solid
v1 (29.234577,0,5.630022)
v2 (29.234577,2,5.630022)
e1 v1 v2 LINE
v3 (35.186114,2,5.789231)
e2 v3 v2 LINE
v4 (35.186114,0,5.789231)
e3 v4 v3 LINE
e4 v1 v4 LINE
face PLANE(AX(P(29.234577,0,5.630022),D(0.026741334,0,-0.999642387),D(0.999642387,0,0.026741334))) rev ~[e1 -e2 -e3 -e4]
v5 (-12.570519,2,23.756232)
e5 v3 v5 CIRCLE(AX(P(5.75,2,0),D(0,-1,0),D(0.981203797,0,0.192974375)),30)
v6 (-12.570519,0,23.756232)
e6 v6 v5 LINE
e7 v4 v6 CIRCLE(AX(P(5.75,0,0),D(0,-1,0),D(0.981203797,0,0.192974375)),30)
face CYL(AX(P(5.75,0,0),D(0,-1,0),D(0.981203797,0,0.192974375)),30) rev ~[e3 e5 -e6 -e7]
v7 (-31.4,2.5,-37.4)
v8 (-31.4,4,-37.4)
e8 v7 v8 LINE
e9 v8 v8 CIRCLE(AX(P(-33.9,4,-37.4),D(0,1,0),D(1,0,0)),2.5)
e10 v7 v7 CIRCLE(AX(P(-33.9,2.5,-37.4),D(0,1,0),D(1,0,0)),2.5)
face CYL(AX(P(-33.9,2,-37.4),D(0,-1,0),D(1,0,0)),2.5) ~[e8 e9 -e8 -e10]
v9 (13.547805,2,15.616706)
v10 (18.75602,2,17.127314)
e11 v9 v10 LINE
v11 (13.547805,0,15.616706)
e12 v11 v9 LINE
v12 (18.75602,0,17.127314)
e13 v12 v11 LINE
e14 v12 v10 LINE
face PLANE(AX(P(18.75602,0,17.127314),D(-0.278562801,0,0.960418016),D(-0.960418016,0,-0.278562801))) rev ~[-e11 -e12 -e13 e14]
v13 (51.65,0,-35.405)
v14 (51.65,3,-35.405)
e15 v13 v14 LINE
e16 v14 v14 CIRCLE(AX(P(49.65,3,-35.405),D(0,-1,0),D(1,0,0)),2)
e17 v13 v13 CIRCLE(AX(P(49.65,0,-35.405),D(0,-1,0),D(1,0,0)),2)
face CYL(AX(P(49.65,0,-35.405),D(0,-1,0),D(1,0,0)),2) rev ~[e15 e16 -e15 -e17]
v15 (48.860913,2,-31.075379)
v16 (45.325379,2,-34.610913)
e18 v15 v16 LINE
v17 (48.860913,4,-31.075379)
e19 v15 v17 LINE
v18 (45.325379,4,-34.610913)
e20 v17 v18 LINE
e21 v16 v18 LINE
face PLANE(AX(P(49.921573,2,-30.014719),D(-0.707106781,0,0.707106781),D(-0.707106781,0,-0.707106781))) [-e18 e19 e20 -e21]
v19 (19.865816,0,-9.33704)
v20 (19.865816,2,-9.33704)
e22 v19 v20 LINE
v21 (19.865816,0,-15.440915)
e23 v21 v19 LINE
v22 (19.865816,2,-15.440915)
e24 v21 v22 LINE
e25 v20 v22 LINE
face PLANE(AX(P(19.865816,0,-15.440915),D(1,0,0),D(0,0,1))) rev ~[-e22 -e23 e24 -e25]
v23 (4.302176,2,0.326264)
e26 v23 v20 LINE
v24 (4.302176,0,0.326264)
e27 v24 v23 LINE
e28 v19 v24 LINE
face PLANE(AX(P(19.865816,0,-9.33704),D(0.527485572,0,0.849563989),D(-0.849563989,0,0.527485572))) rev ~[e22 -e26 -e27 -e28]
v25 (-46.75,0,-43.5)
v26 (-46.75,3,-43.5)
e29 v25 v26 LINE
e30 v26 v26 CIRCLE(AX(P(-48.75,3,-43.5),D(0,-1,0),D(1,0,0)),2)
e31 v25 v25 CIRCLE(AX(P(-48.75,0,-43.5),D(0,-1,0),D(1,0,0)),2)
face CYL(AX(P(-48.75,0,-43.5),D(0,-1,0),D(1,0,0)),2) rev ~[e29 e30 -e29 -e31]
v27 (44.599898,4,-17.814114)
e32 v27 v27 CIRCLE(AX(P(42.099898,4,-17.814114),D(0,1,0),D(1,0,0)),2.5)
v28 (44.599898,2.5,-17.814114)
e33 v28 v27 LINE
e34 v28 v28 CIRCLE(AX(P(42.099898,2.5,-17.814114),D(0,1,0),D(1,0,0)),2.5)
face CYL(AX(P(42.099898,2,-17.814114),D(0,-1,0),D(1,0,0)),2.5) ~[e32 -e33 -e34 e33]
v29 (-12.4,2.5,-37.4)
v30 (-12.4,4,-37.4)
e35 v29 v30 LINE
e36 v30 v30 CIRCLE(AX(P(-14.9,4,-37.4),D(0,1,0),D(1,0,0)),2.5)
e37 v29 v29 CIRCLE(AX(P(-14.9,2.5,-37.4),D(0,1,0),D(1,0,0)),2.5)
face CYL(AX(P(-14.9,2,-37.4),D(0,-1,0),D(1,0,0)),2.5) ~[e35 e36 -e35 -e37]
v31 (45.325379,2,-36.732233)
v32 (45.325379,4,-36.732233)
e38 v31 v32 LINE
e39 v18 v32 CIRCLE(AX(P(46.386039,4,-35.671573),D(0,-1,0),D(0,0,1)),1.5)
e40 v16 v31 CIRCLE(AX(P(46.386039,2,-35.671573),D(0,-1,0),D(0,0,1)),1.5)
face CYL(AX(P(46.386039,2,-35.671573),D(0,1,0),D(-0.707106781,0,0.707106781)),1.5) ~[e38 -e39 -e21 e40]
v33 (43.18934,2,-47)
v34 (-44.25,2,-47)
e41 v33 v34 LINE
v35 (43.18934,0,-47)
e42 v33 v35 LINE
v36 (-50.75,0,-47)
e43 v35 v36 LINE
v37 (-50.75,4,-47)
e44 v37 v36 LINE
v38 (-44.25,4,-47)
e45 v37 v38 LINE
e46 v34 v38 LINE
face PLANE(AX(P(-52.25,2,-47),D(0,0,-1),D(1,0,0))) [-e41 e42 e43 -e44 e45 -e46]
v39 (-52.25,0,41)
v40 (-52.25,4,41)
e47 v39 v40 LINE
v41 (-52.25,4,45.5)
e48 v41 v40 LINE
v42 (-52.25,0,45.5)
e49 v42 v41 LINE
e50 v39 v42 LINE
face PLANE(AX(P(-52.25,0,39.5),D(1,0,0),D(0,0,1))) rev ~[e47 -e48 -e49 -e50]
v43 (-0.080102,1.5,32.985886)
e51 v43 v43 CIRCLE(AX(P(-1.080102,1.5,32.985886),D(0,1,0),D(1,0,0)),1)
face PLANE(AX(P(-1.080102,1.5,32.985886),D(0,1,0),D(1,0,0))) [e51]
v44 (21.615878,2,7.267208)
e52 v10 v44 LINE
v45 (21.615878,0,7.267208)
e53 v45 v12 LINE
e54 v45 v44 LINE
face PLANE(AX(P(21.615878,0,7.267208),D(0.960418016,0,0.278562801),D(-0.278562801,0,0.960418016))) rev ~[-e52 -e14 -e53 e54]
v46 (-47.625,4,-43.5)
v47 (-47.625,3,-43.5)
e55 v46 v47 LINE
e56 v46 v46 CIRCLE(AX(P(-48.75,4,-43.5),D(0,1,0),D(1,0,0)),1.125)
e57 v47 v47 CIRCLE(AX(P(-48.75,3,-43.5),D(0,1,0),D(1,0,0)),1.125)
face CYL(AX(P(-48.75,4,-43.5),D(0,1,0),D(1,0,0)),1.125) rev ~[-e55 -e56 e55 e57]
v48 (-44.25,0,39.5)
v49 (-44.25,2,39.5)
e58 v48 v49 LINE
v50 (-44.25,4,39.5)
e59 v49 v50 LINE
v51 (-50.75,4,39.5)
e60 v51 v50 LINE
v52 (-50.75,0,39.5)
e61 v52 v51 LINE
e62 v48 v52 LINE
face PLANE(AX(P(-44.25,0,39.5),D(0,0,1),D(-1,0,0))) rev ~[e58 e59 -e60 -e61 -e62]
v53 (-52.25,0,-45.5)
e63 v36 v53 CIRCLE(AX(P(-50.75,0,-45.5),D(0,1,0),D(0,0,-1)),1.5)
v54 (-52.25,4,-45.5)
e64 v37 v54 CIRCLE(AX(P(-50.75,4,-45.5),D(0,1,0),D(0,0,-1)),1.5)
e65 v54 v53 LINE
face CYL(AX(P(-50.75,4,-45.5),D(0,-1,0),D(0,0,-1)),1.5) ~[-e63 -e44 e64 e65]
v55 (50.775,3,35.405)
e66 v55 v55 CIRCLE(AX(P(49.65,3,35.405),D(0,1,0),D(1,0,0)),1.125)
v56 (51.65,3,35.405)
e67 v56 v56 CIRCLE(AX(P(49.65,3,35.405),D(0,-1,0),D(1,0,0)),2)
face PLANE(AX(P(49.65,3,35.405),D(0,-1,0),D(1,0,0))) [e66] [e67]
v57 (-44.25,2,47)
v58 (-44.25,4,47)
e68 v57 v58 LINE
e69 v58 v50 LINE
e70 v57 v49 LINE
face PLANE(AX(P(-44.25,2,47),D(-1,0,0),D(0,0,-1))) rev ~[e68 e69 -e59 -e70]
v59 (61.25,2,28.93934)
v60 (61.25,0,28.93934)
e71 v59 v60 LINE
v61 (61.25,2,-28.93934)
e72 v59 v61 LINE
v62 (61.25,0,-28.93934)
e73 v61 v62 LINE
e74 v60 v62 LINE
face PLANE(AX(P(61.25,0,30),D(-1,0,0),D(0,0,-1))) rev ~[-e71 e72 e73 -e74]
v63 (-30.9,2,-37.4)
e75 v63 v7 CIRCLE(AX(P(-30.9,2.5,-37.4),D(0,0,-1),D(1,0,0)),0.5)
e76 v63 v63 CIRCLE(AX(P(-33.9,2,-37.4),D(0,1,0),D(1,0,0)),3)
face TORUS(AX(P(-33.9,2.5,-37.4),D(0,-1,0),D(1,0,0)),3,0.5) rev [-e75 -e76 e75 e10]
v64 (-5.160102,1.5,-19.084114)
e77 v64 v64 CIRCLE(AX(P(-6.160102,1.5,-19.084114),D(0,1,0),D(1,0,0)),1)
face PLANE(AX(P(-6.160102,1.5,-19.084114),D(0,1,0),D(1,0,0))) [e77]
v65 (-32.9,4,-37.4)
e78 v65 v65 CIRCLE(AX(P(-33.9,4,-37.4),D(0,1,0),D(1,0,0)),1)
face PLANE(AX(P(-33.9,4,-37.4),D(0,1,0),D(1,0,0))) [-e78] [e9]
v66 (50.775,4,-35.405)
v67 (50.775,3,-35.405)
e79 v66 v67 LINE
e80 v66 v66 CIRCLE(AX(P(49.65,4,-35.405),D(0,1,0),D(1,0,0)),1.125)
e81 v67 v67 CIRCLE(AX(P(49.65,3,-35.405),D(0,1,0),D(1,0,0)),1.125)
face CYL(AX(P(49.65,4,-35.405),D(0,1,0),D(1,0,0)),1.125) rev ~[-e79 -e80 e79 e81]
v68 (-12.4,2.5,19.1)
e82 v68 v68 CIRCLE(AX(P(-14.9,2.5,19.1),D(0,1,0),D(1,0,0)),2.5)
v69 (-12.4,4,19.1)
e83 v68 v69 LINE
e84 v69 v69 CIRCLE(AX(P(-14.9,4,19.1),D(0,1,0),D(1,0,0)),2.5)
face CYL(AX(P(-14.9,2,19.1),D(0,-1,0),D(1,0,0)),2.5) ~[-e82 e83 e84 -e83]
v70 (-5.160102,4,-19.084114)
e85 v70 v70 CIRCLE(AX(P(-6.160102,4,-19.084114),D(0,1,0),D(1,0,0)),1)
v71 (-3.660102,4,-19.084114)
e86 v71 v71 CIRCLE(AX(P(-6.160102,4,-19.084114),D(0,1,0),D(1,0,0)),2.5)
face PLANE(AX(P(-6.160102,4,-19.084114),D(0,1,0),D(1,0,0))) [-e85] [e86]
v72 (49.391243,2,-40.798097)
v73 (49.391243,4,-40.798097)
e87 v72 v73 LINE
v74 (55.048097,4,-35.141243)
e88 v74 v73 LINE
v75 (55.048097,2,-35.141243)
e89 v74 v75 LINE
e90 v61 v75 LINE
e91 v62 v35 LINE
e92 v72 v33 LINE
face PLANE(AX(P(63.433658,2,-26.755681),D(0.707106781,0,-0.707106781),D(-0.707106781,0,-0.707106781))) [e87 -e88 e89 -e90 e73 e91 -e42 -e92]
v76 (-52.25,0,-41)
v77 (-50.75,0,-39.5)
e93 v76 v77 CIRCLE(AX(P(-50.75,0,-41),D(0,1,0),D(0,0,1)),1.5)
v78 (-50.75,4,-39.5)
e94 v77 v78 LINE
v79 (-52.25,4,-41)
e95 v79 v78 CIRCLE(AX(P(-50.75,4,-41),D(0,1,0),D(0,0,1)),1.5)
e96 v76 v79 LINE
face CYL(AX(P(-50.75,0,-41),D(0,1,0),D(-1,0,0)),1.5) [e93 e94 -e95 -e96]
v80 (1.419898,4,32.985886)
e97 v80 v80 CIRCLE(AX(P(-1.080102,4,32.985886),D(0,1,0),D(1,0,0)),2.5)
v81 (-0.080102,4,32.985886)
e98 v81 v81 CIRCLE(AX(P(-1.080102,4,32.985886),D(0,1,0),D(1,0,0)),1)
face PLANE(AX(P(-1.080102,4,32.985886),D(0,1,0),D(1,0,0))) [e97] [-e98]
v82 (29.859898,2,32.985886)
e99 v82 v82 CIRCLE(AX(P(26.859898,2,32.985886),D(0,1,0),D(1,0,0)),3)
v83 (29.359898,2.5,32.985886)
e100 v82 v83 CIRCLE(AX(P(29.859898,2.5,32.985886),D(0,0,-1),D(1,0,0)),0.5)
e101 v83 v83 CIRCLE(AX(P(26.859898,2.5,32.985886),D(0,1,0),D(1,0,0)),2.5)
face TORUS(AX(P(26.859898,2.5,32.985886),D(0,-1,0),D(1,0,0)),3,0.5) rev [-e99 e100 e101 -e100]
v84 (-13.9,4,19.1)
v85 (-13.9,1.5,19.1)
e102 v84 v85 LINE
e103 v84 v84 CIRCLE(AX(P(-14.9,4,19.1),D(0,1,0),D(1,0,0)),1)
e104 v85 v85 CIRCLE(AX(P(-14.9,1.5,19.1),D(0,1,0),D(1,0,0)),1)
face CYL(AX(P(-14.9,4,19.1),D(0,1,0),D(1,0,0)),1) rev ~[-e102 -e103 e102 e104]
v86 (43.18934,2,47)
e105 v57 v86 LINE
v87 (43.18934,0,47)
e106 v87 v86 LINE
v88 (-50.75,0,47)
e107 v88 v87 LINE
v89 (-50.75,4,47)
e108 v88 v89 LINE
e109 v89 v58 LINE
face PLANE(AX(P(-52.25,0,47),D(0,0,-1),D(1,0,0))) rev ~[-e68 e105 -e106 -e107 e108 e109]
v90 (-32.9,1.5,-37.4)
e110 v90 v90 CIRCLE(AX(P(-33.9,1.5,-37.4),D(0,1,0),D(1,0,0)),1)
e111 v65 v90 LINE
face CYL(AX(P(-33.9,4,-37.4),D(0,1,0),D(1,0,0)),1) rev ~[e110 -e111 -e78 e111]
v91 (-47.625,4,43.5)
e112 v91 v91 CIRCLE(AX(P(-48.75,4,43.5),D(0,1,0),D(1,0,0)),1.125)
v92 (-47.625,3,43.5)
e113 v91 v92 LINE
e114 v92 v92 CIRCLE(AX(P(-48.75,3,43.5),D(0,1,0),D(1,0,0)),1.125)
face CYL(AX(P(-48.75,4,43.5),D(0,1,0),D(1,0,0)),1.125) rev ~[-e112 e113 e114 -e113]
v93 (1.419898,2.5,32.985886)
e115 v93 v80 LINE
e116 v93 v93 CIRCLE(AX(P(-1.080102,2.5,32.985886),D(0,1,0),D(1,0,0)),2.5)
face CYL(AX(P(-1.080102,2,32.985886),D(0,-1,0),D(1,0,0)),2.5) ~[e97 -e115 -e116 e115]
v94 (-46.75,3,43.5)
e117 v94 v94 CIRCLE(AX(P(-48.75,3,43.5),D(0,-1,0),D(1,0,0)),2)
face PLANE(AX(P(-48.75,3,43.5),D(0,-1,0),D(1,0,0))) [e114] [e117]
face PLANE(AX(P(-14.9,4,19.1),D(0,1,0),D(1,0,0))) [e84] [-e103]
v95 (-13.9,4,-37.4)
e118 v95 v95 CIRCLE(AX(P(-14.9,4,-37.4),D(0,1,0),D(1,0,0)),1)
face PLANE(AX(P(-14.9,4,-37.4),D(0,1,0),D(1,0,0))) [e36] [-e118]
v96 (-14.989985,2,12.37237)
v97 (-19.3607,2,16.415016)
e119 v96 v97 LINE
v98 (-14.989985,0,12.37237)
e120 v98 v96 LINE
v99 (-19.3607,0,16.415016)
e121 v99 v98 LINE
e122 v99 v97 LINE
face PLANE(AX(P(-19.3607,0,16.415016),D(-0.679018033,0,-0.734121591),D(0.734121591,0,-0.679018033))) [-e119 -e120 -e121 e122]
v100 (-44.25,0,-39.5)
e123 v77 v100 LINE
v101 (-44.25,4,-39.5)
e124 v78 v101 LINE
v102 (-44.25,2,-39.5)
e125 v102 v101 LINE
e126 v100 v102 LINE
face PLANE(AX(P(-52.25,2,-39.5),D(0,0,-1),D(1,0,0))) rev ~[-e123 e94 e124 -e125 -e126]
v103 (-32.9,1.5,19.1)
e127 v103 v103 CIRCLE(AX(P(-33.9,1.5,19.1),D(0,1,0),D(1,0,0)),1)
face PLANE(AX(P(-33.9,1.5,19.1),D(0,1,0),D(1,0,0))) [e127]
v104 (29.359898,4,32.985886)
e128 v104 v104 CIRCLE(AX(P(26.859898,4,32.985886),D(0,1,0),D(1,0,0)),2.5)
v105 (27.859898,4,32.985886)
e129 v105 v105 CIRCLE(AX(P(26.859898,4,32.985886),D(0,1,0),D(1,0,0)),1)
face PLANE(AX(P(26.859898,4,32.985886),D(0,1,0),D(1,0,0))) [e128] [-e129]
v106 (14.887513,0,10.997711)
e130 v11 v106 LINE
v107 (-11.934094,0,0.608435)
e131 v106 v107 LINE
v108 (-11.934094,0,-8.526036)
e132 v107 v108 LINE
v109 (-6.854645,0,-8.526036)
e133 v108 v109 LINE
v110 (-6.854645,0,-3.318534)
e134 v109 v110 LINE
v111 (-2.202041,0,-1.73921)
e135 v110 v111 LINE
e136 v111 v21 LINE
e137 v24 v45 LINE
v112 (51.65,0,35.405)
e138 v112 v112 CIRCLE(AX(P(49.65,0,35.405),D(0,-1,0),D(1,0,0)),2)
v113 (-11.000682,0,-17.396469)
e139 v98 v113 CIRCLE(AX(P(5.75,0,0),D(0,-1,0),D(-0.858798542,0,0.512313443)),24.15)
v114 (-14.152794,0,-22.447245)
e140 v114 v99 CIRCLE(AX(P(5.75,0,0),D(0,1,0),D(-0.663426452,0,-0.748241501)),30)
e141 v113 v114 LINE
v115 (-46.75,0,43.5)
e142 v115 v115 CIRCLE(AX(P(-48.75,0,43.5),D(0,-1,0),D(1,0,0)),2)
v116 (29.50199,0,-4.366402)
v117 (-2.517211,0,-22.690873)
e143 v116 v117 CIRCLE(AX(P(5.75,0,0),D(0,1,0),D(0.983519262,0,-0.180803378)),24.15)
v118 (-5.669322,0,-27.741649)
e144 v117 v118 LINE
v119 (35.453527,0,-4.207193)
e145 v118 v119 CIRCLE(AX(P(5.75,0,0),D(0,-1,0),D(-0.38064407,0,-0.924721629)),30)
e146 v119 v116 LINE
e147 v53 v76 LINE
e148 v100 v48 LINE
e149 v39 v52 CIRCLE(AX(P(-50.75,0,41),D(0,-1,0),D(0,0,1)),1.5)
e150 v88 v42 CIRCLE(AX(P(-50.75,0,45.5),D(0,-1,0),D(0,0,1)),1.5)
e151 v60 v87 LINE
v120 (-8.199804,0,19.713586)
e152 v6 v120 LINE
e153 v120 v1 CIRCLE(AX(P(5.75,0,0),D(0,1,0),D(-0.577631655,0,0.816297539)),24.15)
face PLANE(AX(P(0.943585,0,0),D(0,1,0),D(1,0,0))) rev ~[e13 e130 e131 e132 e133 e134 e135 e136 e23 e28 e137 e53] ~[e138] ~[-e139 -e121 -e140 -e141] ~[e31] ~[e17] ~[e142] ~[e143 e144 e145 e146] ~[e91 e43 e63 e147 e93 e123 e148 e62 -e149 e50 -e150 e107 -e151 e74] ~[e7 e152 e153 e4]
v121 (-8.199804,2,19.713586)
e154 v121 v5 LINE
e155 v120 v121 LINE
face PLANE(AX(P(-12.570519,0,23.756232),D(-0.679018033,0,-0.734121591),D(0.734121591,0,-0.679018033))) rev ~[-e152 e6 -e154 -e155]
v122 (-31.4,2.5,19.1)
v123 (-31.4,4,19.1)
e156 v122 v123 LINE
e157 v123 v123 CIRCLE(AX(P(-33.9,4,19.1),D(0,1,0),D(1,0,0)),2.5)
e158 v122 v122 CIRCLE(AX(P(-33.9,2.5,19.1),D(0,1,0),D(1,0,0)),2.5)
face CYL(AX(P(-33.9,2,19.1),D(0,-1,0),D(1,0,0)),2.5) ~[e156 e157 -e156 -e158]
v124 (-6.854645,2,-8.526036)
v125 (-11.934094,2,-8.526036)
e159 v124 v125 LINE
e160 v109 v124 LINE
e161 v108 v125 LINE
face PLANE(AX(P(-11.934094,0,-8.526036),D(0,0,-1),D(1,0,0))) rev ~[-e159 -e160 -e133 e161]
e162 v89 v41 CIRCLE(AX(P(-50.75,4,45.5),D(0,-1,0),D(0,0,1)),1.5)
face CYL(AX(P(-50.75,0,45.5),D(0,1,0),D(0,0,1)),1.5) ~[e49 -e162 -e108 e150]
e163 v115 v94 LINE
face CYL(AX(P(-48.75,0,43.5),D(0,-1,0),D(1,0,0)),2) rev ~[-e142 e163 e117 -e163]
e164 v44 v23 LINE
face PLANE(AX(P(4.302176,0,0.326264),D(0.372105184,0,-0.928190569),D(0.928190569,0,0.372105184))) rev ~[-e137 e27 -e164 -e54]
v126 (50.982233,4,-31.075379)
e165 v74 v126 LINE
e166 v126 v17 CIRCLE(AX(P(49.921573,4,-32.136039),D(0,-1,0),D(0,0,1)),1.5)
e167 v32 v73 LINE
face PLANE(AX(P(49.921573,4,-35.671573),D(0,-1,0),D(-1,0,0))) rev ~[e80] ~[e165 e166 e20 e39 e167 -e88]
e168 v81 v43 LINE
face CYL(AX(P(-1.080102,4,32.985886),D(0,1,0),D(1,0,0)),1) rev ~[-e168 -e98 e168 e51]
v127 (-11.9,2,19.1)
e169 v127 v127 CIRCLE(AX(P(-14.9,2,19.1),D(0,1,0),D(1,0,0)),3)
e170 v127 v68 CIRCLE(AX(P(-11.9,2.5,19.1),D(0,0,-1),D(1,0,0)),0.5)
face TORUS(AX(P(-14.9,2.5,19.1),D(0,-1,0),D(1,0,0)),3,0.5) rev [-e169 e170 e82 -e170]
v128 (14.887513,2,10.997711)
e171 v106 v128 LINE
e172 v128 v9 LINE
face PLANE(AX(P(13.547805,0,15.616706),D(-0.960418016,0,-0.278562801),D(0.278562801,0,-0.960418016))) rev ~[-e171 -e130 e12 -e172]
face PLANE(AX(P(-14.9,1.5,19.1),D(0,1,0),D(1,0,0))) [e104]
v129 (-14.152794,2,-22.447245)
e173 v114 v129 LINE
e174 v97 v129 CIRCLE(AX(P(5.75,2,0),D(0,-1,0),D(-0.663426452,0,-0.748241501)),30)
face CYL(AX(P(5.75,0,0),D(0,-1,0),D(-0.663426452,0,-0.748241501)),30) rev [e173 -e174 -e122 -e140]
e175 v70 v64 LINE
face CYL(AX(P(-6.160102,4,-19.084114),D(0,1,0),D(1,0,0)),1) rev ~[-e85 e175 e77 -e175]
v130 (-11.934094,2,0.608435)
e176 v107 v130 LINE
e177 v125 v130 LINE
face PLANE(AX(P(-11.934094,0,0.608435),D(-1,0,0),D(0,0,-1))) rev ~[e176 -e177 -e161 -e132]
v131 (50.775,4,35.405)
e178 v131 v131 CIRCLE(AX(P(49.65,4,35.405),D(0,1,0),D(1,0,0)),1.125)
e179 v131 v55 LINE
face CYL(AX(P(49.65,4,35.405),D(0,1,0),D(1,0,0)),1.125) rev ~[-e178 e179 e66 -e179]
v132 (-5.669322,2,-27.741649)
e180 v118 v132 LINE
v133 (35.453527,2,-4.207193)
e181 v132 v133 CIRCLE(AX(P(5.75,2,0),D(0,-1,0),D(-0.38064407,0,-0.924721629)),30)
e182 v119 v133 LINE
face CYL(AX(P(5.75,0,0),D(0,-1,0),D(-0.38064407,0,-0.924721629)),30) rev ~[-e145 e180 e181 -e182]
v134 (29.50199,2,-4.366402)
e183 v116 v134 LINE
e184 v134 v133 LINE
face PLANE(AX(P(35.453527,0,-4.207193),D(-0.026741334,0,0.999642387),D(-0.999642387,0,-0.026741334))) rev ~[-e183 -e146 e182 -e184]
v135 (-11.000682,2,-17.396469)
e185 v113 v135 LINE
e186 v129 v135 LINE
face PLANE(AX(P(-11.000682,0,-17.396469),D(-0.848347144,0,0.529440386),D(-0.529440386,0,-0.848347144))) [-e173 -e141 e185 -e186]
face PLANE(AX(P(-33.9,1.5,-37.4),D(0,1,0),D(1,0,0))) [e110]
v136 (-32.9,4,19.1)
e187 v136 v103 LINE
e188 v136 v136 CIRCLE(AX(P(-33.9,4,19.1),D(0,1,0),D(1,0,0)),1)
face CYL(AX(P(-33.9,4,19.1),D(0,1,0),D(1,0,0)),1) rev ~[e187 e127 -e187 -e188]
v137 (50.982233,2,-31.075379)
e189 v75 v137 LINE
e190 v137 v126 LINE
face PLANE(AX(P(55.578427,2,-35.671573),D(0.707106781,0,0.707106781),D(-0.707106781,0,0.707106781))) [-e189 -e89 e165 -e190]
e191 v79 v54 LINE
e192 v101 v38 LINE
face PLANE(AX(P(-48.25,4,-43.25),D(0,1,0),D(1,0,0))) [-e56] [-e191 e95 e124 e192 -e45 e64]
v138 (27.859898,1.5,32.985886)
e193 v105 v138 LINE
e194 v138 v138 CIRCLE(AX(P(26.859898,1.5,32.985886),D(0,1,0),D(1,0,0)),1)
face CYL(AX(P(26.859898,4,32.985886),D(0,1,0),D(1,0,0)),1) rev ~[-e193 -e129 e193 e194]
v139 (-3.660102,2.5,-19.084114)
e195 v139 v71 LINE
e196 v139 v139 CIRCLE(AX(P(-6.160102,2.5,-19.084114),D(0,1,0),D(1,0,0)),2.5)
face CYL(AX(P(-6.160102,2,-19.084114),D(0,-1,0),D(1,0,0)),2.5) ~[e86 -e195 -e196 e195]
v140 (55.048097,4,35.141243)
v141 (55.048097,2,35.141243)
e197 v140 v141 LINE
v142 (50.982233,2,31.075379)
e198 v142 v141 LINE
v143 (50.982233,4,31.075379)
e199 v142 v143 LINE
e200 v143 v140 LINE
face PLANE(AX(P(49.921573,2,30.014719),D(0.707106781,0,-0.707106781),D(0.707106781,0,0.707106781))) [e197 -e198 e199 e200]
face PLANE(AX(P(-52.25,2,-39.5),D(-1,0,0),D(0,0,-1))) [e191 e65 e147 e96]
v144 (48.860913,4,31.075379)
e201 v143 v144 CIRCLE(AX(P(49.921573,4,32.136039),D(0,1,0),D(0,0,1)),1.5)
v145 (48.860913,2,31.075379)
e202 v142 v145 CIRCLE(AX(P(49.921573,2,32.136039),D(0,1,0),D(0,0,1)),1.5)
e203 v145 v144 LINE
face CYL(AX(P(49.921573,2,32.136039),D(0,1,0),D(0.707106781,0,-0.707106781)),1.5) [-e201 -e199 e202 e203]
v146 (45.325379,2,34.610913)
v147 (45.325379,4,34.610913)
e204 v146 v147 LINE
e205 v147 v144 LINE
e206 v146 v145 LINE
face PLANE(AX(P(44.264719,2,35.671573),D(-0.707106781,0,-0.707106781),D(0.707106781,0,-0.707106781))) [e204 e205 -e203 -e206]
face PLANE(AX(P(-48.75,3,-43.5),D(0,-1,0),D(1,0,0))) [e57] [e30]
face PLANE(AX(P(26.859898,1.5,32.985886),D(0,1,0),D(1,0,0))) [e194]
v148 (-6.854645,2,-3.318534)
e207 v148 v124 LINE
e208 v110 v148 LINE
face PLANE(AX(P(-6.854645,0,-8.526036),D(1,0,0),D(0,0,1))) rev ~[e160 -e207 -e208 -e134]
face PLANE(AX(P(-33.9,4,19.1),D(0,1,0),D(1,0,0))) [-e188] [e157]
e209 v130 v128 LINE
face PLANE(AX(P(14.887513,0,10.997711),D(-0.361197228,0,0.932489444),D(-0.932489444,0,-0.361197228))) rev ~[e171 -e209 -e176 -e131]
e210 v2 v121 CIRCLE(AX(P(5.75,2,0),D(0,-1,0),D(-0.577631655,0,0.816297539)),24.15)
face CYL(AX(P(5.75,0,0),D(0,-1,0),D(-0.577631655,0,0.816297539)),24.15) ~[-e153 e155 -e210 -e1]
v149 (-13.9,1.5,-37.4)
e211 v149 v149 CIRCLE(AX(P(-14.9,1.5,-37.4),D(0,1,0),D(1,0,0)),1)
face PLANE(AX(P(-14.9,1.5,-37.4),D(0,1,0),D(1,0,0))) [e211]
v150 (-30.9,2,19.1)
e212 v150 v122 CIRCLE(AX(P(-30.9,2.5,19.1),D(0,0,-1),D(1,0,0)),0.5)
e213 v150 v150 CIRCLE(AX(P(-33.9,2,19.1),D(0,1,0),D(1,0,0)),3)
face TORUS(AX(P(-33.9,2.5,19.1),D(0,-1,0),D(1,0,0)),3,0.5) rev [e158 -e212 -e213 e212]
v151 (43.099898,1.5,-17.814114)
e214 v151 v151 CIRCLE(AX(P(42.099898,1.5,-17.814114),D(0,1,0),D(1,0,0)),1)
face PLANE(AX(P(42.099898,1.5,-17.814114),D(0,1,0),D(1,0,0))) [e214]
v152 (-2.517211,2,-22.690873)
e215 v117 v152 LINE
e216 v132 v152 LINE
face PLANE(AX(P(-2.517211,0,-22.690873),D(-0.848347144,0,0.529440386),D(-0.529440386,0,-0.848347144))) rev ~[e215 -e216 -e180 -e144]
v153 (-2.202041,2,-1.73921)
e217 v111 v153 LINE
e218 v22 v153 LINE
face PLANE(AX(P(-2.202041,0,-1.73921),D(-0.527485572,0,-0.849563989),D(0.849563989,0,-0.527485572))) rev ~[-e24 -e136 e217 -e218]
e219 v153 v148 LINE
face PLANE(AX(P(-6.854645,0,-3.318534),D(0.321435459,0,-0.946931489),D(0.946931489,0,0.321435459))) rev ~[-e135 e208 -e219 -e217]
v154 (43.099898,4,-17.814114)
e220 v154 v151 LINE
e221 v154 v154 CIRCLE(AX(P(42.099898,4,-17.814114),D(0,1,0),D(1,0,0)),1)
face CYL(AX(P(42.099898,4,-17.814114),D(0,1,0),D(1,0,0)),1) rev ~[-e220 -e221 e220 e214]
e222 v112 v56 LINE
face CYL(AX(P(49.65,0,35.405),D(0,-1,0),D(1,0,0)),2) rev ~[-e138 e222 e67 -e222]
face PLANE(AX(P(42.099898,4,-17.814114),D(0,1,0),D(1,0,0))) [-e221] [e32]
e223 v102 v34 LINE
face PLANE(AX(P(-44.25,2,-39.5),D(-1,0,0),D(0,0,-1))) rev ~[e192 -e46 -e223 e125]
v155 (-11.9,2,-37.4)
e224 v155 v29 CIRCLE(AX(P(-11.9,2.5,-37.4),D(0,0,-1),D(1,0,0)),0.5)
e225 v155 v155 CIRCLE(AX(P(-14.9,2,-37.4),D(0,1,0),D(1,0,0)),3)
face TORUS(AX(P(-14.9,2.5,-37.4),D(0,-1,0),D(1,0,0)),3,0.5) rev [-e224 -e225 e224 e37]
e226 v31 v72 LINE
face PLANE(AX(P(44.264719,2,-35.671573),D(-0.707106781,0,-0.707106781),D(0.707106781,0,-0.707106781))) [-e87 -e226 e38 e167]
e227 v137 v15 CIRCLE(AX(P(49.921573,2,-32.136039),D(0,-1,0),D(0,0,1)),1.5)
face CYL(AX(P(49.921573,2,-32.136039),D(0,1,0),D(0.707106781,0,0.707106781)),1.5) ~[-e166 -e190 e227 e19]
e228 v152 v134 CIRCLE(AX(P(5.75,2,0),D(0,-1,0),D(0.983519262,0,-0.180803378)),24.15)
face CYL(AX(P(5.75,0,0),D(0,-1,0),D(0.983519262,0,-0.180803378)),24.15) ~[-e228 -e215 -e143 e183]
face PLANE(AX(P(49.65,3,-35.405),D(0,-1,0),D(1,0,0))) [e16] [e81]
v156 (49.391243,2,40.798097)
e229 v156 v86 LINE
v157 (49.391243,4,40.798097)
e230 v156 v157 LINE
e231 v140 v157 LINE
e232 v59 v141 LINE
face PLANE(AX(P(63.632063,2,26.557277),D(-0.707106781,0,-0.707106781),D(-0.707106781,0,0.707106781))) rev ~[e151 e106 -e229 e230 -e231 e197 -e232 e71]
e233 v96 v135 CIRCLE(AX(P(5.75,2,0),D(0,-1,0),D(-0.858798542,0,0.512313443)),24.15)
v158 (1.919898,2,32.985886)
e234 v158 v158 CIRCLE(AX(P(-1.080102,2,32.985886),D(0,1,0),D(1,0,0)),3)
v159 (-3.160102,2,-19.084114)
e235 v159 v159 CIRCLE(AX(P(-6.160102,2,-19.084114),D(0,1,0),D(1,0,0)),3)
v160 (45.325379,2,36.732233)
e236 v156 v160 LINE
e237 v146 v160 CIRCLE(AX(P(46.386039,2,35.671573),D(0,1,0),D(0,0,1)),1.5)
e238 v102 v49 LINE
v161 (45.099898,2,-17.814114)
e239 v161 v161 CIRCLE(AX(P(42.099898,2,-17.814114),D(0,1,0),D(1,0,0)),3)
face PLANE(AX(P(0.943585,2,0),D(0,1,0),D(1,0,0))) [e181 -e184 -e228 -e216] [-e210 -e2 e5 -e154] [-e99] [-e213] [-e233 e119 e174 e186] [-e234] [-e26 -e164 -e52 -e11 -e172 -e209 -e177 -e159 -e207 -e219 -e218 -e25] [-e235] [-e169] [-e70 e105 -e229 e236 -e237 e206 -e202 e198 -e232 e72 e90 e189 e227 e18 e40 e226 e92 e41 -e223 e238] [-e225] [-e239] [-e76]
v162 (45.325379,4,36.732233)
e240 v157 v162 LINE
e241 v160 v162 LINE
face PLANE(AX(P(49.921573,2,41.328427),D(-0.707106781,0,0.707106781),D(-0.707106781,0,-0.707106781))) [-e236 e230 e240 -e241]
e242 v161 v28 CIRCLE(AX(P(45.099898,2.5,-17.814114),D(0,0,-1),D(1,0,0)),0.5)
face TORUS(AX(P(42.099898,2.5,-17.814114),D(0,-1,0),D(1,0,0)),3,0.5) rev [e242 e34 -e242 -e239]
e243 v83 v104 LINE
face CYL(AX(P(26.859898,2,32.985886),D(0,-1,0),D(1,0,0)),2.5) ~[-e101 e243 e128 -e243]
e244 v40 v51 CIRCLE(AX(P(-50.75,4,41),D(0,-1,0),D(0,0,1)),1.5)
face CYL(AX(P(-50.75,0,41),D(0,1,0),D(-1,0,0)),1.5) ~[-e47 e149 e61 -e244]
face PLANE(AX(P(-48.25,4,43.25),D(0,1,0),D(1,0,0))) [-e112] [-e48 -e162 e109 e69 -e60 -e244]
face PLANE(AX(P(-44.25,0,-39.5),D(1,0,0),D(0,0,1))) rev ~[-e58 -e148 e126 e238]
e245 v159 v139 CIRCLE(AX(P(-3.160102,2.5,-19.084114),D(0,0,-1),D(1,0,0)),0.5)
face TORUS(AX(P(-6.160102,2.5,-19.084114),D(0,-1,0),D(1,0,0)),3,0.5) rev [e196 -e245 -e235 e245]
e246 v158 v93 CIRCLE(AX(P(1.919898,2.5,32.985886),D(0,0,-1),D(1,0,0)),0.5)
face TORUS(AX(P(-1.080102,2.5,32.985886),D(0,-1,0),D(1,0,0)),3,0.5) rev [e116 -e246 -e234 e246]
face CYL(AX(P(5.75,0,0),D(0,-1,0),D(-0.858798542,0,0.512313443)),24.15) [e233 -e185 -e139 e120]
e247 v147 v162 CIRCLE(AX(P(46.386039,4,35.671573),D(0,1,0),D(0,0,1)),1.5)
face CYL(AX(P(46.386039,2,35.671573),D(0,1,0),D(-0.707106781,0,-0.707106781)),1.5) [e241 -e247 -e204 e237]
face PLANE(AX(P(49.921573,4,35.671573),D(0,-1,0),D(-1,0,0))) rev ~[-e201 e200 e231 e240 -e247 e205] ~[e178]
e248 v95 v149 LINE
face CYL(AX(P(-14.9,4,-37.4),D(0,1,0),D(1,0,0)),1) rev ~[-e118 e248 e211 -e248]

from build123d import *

# Parameters (mm, degrees)
BOSS_EXTRUDE1_DEPTH     = 2
SKETCH2_W               = 8
SKETCH2_H               = 7.5
BOSS_EXTRUDE2_DEPTH     = 2
SKETCH3_R               = 1.125
CUT_EXTRUDE1_DEPTH      = 5
SKETCH4_R               = 2.5
BOSS_EXTRUDE3_DEPTH     = 2
SKETCH5_R               = 1
CUT_EXTRUDE2_DEPTH      = 2.5
FILLET1_R               = 0.5
CUT_EXTRUDE6_DEPTH      = 5
FILLET2_R               = 1.5
FILLET3_R               = 1.5
CUT_EXTRUDE7_DEPTH      = 3
CUT_EXTRUDE7_DEPTH_BACK = 3
SKETCH8_R               = 2
CUT_EXTRUDE8_DEPTH      = 1
CUT_EXTRUDE8_DEPTH_BACK = 3


with BuildPart() as part:
    # Sketch1 → Boss-Extrude1 (new body)
    with BuildSketch(Plane(origin=(0, 0, 0), x_dir=(1, 0, 0), z_dir=(0, 1, 0))):
        Polygon((61.25, 30), (44.25, 47), (-44.25, 47), (-52.25, 47), (-52.25, 39.5), (-44.25, 39.5), (-44.25, -39.5), (-52.25, -39.5), (-52.25, -47), (-44.25, -47), (44.25, -47), (61.25, -30), align=None)
    extrude(amount=BOSS_EXTRUDE1_DEPTH)

    # Sketch2 → Boss-Extrude2 (add)
    with BuildSketch(Plane(origin=(0, 2, 0), x_dir=(1, 0, 0), z_dir=(0, 1, 0))):
        with Locations((-48.25, 43.25)):
            Rectangle(SKETCH2_W, SKETCH2_H)
        with Locations((-48.25, -43.25)):
            Rectangle(SKETCH2_W, SKETCH2_H)
        Polygon((55.578427125, -35.671572875), (49.921572875, -41.328427125), (44.264718626, -35.671572875), (49.921572875, -30.014718626), align=None)
        Polygon((49.921572875, 41.328427125), (55.578427125, 35.671572875), (49.921572875, 30.014718626), (44.264718626, 35.671572875), align=None)
    extrude(amount=BOSS_EXTRUDE2_DEPTH)

    # Sketch3 → Cut-Extrude1 (cut, through all)
    with BuildSketch(Plane(origin=(0, 4, 0), x_dir=(1, 0, 0), z_dir=(0, 1, 0))):
        with Locations((49.65, 35.405)):
            Circle(SKETCH3_R)
        with Locations((-48.75, -43.5)):
            Circle(SKETCH3_R)
        with Locations((-48.75, 43.5)):
            Circle(SKETCH3_R)
        with Locations((49.65, -35.405)):
            Circle(SKETCH3_R)
    extrude(amount=-CUT_EXTRUDE1_DEPTH, mode=Mode.SUBTRACT)

    # Sketch4 → Boss-Extrude3 (add)
    with BuildSketch(Plane(origin=(0, 2, 0), x_dir=(1, 0, 0), z_dir=(0, 1, 0))):
        with Locations((-33.9, 37.4)):
            Circle(SKETCH4_R)
        with Locations((-14.9, 37.4)):
            Circle(SKETCH4_R)
        with Locations((-33.9, -19.1)):
            Circle(SKETCH4_R)
        with Locations((-14.9, -19.1)):
            Circle(SKETCH4_R)
        with Locations((-6.160101909, 19.084114492)):
            Circle(SKETCH4_R)
        with Locations((42.099898091, 17.814114492)):
            Circle(SKETCH4_R)
        with Locations((-1.080101909, -32.985885508)):
            Circle(SKETCH4_R)
        with Locations((26.859898091, -32.985885508)):
            Circle(SKETCH4_R)
    extrude(amount=BOSS_EXTRUDE3_DEPTH)

    # Sketch5 → Cut-Extrude2 (cut)
    with BuildSketch(Plane(origin=(0, 4, 0), x_dir=(1, 0, 0), z_dir=(0, 1, 0))):
        with Locations((-33.9, 37.4)):
            Circle(SKETCH5_R)
        with Locations((-14.9, 37.4)):
            Circle(SKETCH5_R)
        with Locations((-6.160101909, 19.084114492)):
            Circle(SKETCH5_R)
        with Locations((42.099898091, 17.814114492)):
            Circle(SKETCH5_R)
        with Locations((26.859898091, -32.985885508)):
            Circle(SKETCH5_R)
        with Locations((-1.080101909, -32.985885508)):
            Circle(SKETCH5_R)
        with Locations((-14.9, -19.1)):
            Circle(SKETCH5_R)
        with Locations((-33.9, -19.1)):
            Circle(SKETCH5_R)
    extrude(amount=-CUT_EXTRUDE2_DEPTH, mode=Mode.SUBTRACT)

    # Fillet1
    fillet1_edges = [part.edges().sort_by_distance(p)[0] for p in [
        (-36.4, 2, -37.4),
        (-8.660101909, 2, -19.084114492),
        (-17.4, 2, 19.1),
        (-36.4, 2, 19.1),
        (-17.4, 2, -37.4),
        (24.359898091, 2, 32.985885508),
        (-3.580101909, 2, 32.985885508),
        (39.599898091, 2, -17.814114492),
    ]]
    fillet(fillet1_edges, radius=FILLET1_R)

    # Sketch6 → Cut-Extrude6 (cut, through all)
    with BuildSketch(Plane.XZ):
        Polygon((-11.934093721, 0.6084348), (-11.934093721, -8.526035833), (-6.854645098, -8.526035833), (-6.854645098, -3.318533883), (-2.202040897, -1.739209522), (19.865815724, -15.44091547), (19.865815724, -9.337040235), (4.302175748, 0.326264277), (21.615877855, 7.267207784), (18.756020227, 17.127313934), (13.547804779, 15.616705991), (14.887513366, 10.997710715), align=None)
        with BuildLine():
            Line((-12.570519348, 23.756232252), (-8.199804463, 19.713585555))
            ThreePointArc((-8.199804463, 19.713585555), (14.25380266, 22.603270567), (29.234576835, 5.63002228))
            Line((29.234576835, 5.63002228), (35.186113899, 5.789231255))
            ThreePointArc((35.186113899, 5.789231255), (16.313730012, 28.078596978), (-12.570519348, 23.756232252))
        make_face()
        with BuildLine():
            Line((-19.360699682, 16.415016342), (-14.989984797, 12.372369645))
            ThreePointArc((-14.989984797, 12.372369645), (-18.18602874, -3.2076515), (-11.000682227, -17.396469324))
            Line((-11.000682227, -17.396469324), (-14.152793546, -22.447245022))
            ThreePointArc((-14.152793546, -22.447245022), (-23.984197193, -3.984660248), (-19.360699682, 16.415016342))
        make_face()
        with BuildLine():
            Line((-2.517210782, -22.690873185), (-5.669322101, -27.741648883))
            ThreePointArc((-5.669322101, -27.741648883), (20.65119785, -26.037555619), (35.453527237, -4.207192611))
            Line((35.453527237, -4.207192611), (29.501990173, -4.366401586))
            ThreePointArc((29.501990173, -4.366401586), (17.74546427, -20.960232273), (-2.517210782, -22.690873185))
        make_face()
    extrude(amount=-CUT_EXTRUDE6_DEPTH, mode=Mode.SUBTRACT)

    # Fillet2
    fillet2_edges = [part.edges().sort_by_distance(p)[0] for p in [
        (-52.25, 2, 47),
        (-52.25, 2, 39.5),
        (-52.25, 2, -39.5),
        (-52.25, 2, -47),
    ]]
    fillet(fillet2_edges, radius=FILLET2_R)

    # Fillet3
    fillet3_edges = [part.edges().sort_by_distance(p)[0] for p in [
        (44.264718626, 3, -35.671572875),
        (49.921572875, 3, -30.014718626),
        (49.921572875, 3, 30.014718626),
        (44.264718626, 3, 35.671572875),
    ]]
    fillet(fillet3_edges, radius=FILLET3_R)

    # Sketch7 → Cut-Extrude7 (cut, two sides)
    with BuildSketch(Plane(origin=(0, 2, 0), x_dir=(1, 0, 0), z_dir=(0, 1, 0))) as cut_extrude7_sk:
        Polygon((41.903432703, 49.346567297), (63.963988577, 27.286011423), (63.433658491, 26.755681338), (41.373102617, 48.816237211), align=None)
        Polygon((41.986991098, -49.263008902), (64.162392896, -27.087607104), (63.632062811, -26.557277018), (41.456661012, -48.732678816), align=None)
    extrude(amount=CUT_EXTRUDE7_DEPTH, mode=Mode.SUBTRACT)
    extrude(cut_extrude7_sk.sketch, amount=-CUT_EXTRUDE7_DEPTH_BACK, mode=Mode.SUBTRACT)

    # Sketch8 → Cut-Extrude8 (cut, two sides)
    with BuildSketch(Plane.XZ) as cut_extrude8_sk:
        with Locations((-48.75, 43.5)):
            Circle(SKETCH8_R)
        with Locations((49.65, 35.405)):
            Circle(SKETCH8_R)
        with Locations((49.65, -35.405)):
            Circle(SKETCH8_R)
        with Locations((-48.75, -43.5)):
            Circle(SKETCH8_R)
    extrude(amount=CUT_EXTRUDE8_DEPTH, mode=Mode.SUBTRACT)
    extrude(cut_extrude8_sk.sketch, amount=-CUT_EXTRUDE8_DEPTH_BACK, mode=Mode.SUBTRACT)


solid = part.part
